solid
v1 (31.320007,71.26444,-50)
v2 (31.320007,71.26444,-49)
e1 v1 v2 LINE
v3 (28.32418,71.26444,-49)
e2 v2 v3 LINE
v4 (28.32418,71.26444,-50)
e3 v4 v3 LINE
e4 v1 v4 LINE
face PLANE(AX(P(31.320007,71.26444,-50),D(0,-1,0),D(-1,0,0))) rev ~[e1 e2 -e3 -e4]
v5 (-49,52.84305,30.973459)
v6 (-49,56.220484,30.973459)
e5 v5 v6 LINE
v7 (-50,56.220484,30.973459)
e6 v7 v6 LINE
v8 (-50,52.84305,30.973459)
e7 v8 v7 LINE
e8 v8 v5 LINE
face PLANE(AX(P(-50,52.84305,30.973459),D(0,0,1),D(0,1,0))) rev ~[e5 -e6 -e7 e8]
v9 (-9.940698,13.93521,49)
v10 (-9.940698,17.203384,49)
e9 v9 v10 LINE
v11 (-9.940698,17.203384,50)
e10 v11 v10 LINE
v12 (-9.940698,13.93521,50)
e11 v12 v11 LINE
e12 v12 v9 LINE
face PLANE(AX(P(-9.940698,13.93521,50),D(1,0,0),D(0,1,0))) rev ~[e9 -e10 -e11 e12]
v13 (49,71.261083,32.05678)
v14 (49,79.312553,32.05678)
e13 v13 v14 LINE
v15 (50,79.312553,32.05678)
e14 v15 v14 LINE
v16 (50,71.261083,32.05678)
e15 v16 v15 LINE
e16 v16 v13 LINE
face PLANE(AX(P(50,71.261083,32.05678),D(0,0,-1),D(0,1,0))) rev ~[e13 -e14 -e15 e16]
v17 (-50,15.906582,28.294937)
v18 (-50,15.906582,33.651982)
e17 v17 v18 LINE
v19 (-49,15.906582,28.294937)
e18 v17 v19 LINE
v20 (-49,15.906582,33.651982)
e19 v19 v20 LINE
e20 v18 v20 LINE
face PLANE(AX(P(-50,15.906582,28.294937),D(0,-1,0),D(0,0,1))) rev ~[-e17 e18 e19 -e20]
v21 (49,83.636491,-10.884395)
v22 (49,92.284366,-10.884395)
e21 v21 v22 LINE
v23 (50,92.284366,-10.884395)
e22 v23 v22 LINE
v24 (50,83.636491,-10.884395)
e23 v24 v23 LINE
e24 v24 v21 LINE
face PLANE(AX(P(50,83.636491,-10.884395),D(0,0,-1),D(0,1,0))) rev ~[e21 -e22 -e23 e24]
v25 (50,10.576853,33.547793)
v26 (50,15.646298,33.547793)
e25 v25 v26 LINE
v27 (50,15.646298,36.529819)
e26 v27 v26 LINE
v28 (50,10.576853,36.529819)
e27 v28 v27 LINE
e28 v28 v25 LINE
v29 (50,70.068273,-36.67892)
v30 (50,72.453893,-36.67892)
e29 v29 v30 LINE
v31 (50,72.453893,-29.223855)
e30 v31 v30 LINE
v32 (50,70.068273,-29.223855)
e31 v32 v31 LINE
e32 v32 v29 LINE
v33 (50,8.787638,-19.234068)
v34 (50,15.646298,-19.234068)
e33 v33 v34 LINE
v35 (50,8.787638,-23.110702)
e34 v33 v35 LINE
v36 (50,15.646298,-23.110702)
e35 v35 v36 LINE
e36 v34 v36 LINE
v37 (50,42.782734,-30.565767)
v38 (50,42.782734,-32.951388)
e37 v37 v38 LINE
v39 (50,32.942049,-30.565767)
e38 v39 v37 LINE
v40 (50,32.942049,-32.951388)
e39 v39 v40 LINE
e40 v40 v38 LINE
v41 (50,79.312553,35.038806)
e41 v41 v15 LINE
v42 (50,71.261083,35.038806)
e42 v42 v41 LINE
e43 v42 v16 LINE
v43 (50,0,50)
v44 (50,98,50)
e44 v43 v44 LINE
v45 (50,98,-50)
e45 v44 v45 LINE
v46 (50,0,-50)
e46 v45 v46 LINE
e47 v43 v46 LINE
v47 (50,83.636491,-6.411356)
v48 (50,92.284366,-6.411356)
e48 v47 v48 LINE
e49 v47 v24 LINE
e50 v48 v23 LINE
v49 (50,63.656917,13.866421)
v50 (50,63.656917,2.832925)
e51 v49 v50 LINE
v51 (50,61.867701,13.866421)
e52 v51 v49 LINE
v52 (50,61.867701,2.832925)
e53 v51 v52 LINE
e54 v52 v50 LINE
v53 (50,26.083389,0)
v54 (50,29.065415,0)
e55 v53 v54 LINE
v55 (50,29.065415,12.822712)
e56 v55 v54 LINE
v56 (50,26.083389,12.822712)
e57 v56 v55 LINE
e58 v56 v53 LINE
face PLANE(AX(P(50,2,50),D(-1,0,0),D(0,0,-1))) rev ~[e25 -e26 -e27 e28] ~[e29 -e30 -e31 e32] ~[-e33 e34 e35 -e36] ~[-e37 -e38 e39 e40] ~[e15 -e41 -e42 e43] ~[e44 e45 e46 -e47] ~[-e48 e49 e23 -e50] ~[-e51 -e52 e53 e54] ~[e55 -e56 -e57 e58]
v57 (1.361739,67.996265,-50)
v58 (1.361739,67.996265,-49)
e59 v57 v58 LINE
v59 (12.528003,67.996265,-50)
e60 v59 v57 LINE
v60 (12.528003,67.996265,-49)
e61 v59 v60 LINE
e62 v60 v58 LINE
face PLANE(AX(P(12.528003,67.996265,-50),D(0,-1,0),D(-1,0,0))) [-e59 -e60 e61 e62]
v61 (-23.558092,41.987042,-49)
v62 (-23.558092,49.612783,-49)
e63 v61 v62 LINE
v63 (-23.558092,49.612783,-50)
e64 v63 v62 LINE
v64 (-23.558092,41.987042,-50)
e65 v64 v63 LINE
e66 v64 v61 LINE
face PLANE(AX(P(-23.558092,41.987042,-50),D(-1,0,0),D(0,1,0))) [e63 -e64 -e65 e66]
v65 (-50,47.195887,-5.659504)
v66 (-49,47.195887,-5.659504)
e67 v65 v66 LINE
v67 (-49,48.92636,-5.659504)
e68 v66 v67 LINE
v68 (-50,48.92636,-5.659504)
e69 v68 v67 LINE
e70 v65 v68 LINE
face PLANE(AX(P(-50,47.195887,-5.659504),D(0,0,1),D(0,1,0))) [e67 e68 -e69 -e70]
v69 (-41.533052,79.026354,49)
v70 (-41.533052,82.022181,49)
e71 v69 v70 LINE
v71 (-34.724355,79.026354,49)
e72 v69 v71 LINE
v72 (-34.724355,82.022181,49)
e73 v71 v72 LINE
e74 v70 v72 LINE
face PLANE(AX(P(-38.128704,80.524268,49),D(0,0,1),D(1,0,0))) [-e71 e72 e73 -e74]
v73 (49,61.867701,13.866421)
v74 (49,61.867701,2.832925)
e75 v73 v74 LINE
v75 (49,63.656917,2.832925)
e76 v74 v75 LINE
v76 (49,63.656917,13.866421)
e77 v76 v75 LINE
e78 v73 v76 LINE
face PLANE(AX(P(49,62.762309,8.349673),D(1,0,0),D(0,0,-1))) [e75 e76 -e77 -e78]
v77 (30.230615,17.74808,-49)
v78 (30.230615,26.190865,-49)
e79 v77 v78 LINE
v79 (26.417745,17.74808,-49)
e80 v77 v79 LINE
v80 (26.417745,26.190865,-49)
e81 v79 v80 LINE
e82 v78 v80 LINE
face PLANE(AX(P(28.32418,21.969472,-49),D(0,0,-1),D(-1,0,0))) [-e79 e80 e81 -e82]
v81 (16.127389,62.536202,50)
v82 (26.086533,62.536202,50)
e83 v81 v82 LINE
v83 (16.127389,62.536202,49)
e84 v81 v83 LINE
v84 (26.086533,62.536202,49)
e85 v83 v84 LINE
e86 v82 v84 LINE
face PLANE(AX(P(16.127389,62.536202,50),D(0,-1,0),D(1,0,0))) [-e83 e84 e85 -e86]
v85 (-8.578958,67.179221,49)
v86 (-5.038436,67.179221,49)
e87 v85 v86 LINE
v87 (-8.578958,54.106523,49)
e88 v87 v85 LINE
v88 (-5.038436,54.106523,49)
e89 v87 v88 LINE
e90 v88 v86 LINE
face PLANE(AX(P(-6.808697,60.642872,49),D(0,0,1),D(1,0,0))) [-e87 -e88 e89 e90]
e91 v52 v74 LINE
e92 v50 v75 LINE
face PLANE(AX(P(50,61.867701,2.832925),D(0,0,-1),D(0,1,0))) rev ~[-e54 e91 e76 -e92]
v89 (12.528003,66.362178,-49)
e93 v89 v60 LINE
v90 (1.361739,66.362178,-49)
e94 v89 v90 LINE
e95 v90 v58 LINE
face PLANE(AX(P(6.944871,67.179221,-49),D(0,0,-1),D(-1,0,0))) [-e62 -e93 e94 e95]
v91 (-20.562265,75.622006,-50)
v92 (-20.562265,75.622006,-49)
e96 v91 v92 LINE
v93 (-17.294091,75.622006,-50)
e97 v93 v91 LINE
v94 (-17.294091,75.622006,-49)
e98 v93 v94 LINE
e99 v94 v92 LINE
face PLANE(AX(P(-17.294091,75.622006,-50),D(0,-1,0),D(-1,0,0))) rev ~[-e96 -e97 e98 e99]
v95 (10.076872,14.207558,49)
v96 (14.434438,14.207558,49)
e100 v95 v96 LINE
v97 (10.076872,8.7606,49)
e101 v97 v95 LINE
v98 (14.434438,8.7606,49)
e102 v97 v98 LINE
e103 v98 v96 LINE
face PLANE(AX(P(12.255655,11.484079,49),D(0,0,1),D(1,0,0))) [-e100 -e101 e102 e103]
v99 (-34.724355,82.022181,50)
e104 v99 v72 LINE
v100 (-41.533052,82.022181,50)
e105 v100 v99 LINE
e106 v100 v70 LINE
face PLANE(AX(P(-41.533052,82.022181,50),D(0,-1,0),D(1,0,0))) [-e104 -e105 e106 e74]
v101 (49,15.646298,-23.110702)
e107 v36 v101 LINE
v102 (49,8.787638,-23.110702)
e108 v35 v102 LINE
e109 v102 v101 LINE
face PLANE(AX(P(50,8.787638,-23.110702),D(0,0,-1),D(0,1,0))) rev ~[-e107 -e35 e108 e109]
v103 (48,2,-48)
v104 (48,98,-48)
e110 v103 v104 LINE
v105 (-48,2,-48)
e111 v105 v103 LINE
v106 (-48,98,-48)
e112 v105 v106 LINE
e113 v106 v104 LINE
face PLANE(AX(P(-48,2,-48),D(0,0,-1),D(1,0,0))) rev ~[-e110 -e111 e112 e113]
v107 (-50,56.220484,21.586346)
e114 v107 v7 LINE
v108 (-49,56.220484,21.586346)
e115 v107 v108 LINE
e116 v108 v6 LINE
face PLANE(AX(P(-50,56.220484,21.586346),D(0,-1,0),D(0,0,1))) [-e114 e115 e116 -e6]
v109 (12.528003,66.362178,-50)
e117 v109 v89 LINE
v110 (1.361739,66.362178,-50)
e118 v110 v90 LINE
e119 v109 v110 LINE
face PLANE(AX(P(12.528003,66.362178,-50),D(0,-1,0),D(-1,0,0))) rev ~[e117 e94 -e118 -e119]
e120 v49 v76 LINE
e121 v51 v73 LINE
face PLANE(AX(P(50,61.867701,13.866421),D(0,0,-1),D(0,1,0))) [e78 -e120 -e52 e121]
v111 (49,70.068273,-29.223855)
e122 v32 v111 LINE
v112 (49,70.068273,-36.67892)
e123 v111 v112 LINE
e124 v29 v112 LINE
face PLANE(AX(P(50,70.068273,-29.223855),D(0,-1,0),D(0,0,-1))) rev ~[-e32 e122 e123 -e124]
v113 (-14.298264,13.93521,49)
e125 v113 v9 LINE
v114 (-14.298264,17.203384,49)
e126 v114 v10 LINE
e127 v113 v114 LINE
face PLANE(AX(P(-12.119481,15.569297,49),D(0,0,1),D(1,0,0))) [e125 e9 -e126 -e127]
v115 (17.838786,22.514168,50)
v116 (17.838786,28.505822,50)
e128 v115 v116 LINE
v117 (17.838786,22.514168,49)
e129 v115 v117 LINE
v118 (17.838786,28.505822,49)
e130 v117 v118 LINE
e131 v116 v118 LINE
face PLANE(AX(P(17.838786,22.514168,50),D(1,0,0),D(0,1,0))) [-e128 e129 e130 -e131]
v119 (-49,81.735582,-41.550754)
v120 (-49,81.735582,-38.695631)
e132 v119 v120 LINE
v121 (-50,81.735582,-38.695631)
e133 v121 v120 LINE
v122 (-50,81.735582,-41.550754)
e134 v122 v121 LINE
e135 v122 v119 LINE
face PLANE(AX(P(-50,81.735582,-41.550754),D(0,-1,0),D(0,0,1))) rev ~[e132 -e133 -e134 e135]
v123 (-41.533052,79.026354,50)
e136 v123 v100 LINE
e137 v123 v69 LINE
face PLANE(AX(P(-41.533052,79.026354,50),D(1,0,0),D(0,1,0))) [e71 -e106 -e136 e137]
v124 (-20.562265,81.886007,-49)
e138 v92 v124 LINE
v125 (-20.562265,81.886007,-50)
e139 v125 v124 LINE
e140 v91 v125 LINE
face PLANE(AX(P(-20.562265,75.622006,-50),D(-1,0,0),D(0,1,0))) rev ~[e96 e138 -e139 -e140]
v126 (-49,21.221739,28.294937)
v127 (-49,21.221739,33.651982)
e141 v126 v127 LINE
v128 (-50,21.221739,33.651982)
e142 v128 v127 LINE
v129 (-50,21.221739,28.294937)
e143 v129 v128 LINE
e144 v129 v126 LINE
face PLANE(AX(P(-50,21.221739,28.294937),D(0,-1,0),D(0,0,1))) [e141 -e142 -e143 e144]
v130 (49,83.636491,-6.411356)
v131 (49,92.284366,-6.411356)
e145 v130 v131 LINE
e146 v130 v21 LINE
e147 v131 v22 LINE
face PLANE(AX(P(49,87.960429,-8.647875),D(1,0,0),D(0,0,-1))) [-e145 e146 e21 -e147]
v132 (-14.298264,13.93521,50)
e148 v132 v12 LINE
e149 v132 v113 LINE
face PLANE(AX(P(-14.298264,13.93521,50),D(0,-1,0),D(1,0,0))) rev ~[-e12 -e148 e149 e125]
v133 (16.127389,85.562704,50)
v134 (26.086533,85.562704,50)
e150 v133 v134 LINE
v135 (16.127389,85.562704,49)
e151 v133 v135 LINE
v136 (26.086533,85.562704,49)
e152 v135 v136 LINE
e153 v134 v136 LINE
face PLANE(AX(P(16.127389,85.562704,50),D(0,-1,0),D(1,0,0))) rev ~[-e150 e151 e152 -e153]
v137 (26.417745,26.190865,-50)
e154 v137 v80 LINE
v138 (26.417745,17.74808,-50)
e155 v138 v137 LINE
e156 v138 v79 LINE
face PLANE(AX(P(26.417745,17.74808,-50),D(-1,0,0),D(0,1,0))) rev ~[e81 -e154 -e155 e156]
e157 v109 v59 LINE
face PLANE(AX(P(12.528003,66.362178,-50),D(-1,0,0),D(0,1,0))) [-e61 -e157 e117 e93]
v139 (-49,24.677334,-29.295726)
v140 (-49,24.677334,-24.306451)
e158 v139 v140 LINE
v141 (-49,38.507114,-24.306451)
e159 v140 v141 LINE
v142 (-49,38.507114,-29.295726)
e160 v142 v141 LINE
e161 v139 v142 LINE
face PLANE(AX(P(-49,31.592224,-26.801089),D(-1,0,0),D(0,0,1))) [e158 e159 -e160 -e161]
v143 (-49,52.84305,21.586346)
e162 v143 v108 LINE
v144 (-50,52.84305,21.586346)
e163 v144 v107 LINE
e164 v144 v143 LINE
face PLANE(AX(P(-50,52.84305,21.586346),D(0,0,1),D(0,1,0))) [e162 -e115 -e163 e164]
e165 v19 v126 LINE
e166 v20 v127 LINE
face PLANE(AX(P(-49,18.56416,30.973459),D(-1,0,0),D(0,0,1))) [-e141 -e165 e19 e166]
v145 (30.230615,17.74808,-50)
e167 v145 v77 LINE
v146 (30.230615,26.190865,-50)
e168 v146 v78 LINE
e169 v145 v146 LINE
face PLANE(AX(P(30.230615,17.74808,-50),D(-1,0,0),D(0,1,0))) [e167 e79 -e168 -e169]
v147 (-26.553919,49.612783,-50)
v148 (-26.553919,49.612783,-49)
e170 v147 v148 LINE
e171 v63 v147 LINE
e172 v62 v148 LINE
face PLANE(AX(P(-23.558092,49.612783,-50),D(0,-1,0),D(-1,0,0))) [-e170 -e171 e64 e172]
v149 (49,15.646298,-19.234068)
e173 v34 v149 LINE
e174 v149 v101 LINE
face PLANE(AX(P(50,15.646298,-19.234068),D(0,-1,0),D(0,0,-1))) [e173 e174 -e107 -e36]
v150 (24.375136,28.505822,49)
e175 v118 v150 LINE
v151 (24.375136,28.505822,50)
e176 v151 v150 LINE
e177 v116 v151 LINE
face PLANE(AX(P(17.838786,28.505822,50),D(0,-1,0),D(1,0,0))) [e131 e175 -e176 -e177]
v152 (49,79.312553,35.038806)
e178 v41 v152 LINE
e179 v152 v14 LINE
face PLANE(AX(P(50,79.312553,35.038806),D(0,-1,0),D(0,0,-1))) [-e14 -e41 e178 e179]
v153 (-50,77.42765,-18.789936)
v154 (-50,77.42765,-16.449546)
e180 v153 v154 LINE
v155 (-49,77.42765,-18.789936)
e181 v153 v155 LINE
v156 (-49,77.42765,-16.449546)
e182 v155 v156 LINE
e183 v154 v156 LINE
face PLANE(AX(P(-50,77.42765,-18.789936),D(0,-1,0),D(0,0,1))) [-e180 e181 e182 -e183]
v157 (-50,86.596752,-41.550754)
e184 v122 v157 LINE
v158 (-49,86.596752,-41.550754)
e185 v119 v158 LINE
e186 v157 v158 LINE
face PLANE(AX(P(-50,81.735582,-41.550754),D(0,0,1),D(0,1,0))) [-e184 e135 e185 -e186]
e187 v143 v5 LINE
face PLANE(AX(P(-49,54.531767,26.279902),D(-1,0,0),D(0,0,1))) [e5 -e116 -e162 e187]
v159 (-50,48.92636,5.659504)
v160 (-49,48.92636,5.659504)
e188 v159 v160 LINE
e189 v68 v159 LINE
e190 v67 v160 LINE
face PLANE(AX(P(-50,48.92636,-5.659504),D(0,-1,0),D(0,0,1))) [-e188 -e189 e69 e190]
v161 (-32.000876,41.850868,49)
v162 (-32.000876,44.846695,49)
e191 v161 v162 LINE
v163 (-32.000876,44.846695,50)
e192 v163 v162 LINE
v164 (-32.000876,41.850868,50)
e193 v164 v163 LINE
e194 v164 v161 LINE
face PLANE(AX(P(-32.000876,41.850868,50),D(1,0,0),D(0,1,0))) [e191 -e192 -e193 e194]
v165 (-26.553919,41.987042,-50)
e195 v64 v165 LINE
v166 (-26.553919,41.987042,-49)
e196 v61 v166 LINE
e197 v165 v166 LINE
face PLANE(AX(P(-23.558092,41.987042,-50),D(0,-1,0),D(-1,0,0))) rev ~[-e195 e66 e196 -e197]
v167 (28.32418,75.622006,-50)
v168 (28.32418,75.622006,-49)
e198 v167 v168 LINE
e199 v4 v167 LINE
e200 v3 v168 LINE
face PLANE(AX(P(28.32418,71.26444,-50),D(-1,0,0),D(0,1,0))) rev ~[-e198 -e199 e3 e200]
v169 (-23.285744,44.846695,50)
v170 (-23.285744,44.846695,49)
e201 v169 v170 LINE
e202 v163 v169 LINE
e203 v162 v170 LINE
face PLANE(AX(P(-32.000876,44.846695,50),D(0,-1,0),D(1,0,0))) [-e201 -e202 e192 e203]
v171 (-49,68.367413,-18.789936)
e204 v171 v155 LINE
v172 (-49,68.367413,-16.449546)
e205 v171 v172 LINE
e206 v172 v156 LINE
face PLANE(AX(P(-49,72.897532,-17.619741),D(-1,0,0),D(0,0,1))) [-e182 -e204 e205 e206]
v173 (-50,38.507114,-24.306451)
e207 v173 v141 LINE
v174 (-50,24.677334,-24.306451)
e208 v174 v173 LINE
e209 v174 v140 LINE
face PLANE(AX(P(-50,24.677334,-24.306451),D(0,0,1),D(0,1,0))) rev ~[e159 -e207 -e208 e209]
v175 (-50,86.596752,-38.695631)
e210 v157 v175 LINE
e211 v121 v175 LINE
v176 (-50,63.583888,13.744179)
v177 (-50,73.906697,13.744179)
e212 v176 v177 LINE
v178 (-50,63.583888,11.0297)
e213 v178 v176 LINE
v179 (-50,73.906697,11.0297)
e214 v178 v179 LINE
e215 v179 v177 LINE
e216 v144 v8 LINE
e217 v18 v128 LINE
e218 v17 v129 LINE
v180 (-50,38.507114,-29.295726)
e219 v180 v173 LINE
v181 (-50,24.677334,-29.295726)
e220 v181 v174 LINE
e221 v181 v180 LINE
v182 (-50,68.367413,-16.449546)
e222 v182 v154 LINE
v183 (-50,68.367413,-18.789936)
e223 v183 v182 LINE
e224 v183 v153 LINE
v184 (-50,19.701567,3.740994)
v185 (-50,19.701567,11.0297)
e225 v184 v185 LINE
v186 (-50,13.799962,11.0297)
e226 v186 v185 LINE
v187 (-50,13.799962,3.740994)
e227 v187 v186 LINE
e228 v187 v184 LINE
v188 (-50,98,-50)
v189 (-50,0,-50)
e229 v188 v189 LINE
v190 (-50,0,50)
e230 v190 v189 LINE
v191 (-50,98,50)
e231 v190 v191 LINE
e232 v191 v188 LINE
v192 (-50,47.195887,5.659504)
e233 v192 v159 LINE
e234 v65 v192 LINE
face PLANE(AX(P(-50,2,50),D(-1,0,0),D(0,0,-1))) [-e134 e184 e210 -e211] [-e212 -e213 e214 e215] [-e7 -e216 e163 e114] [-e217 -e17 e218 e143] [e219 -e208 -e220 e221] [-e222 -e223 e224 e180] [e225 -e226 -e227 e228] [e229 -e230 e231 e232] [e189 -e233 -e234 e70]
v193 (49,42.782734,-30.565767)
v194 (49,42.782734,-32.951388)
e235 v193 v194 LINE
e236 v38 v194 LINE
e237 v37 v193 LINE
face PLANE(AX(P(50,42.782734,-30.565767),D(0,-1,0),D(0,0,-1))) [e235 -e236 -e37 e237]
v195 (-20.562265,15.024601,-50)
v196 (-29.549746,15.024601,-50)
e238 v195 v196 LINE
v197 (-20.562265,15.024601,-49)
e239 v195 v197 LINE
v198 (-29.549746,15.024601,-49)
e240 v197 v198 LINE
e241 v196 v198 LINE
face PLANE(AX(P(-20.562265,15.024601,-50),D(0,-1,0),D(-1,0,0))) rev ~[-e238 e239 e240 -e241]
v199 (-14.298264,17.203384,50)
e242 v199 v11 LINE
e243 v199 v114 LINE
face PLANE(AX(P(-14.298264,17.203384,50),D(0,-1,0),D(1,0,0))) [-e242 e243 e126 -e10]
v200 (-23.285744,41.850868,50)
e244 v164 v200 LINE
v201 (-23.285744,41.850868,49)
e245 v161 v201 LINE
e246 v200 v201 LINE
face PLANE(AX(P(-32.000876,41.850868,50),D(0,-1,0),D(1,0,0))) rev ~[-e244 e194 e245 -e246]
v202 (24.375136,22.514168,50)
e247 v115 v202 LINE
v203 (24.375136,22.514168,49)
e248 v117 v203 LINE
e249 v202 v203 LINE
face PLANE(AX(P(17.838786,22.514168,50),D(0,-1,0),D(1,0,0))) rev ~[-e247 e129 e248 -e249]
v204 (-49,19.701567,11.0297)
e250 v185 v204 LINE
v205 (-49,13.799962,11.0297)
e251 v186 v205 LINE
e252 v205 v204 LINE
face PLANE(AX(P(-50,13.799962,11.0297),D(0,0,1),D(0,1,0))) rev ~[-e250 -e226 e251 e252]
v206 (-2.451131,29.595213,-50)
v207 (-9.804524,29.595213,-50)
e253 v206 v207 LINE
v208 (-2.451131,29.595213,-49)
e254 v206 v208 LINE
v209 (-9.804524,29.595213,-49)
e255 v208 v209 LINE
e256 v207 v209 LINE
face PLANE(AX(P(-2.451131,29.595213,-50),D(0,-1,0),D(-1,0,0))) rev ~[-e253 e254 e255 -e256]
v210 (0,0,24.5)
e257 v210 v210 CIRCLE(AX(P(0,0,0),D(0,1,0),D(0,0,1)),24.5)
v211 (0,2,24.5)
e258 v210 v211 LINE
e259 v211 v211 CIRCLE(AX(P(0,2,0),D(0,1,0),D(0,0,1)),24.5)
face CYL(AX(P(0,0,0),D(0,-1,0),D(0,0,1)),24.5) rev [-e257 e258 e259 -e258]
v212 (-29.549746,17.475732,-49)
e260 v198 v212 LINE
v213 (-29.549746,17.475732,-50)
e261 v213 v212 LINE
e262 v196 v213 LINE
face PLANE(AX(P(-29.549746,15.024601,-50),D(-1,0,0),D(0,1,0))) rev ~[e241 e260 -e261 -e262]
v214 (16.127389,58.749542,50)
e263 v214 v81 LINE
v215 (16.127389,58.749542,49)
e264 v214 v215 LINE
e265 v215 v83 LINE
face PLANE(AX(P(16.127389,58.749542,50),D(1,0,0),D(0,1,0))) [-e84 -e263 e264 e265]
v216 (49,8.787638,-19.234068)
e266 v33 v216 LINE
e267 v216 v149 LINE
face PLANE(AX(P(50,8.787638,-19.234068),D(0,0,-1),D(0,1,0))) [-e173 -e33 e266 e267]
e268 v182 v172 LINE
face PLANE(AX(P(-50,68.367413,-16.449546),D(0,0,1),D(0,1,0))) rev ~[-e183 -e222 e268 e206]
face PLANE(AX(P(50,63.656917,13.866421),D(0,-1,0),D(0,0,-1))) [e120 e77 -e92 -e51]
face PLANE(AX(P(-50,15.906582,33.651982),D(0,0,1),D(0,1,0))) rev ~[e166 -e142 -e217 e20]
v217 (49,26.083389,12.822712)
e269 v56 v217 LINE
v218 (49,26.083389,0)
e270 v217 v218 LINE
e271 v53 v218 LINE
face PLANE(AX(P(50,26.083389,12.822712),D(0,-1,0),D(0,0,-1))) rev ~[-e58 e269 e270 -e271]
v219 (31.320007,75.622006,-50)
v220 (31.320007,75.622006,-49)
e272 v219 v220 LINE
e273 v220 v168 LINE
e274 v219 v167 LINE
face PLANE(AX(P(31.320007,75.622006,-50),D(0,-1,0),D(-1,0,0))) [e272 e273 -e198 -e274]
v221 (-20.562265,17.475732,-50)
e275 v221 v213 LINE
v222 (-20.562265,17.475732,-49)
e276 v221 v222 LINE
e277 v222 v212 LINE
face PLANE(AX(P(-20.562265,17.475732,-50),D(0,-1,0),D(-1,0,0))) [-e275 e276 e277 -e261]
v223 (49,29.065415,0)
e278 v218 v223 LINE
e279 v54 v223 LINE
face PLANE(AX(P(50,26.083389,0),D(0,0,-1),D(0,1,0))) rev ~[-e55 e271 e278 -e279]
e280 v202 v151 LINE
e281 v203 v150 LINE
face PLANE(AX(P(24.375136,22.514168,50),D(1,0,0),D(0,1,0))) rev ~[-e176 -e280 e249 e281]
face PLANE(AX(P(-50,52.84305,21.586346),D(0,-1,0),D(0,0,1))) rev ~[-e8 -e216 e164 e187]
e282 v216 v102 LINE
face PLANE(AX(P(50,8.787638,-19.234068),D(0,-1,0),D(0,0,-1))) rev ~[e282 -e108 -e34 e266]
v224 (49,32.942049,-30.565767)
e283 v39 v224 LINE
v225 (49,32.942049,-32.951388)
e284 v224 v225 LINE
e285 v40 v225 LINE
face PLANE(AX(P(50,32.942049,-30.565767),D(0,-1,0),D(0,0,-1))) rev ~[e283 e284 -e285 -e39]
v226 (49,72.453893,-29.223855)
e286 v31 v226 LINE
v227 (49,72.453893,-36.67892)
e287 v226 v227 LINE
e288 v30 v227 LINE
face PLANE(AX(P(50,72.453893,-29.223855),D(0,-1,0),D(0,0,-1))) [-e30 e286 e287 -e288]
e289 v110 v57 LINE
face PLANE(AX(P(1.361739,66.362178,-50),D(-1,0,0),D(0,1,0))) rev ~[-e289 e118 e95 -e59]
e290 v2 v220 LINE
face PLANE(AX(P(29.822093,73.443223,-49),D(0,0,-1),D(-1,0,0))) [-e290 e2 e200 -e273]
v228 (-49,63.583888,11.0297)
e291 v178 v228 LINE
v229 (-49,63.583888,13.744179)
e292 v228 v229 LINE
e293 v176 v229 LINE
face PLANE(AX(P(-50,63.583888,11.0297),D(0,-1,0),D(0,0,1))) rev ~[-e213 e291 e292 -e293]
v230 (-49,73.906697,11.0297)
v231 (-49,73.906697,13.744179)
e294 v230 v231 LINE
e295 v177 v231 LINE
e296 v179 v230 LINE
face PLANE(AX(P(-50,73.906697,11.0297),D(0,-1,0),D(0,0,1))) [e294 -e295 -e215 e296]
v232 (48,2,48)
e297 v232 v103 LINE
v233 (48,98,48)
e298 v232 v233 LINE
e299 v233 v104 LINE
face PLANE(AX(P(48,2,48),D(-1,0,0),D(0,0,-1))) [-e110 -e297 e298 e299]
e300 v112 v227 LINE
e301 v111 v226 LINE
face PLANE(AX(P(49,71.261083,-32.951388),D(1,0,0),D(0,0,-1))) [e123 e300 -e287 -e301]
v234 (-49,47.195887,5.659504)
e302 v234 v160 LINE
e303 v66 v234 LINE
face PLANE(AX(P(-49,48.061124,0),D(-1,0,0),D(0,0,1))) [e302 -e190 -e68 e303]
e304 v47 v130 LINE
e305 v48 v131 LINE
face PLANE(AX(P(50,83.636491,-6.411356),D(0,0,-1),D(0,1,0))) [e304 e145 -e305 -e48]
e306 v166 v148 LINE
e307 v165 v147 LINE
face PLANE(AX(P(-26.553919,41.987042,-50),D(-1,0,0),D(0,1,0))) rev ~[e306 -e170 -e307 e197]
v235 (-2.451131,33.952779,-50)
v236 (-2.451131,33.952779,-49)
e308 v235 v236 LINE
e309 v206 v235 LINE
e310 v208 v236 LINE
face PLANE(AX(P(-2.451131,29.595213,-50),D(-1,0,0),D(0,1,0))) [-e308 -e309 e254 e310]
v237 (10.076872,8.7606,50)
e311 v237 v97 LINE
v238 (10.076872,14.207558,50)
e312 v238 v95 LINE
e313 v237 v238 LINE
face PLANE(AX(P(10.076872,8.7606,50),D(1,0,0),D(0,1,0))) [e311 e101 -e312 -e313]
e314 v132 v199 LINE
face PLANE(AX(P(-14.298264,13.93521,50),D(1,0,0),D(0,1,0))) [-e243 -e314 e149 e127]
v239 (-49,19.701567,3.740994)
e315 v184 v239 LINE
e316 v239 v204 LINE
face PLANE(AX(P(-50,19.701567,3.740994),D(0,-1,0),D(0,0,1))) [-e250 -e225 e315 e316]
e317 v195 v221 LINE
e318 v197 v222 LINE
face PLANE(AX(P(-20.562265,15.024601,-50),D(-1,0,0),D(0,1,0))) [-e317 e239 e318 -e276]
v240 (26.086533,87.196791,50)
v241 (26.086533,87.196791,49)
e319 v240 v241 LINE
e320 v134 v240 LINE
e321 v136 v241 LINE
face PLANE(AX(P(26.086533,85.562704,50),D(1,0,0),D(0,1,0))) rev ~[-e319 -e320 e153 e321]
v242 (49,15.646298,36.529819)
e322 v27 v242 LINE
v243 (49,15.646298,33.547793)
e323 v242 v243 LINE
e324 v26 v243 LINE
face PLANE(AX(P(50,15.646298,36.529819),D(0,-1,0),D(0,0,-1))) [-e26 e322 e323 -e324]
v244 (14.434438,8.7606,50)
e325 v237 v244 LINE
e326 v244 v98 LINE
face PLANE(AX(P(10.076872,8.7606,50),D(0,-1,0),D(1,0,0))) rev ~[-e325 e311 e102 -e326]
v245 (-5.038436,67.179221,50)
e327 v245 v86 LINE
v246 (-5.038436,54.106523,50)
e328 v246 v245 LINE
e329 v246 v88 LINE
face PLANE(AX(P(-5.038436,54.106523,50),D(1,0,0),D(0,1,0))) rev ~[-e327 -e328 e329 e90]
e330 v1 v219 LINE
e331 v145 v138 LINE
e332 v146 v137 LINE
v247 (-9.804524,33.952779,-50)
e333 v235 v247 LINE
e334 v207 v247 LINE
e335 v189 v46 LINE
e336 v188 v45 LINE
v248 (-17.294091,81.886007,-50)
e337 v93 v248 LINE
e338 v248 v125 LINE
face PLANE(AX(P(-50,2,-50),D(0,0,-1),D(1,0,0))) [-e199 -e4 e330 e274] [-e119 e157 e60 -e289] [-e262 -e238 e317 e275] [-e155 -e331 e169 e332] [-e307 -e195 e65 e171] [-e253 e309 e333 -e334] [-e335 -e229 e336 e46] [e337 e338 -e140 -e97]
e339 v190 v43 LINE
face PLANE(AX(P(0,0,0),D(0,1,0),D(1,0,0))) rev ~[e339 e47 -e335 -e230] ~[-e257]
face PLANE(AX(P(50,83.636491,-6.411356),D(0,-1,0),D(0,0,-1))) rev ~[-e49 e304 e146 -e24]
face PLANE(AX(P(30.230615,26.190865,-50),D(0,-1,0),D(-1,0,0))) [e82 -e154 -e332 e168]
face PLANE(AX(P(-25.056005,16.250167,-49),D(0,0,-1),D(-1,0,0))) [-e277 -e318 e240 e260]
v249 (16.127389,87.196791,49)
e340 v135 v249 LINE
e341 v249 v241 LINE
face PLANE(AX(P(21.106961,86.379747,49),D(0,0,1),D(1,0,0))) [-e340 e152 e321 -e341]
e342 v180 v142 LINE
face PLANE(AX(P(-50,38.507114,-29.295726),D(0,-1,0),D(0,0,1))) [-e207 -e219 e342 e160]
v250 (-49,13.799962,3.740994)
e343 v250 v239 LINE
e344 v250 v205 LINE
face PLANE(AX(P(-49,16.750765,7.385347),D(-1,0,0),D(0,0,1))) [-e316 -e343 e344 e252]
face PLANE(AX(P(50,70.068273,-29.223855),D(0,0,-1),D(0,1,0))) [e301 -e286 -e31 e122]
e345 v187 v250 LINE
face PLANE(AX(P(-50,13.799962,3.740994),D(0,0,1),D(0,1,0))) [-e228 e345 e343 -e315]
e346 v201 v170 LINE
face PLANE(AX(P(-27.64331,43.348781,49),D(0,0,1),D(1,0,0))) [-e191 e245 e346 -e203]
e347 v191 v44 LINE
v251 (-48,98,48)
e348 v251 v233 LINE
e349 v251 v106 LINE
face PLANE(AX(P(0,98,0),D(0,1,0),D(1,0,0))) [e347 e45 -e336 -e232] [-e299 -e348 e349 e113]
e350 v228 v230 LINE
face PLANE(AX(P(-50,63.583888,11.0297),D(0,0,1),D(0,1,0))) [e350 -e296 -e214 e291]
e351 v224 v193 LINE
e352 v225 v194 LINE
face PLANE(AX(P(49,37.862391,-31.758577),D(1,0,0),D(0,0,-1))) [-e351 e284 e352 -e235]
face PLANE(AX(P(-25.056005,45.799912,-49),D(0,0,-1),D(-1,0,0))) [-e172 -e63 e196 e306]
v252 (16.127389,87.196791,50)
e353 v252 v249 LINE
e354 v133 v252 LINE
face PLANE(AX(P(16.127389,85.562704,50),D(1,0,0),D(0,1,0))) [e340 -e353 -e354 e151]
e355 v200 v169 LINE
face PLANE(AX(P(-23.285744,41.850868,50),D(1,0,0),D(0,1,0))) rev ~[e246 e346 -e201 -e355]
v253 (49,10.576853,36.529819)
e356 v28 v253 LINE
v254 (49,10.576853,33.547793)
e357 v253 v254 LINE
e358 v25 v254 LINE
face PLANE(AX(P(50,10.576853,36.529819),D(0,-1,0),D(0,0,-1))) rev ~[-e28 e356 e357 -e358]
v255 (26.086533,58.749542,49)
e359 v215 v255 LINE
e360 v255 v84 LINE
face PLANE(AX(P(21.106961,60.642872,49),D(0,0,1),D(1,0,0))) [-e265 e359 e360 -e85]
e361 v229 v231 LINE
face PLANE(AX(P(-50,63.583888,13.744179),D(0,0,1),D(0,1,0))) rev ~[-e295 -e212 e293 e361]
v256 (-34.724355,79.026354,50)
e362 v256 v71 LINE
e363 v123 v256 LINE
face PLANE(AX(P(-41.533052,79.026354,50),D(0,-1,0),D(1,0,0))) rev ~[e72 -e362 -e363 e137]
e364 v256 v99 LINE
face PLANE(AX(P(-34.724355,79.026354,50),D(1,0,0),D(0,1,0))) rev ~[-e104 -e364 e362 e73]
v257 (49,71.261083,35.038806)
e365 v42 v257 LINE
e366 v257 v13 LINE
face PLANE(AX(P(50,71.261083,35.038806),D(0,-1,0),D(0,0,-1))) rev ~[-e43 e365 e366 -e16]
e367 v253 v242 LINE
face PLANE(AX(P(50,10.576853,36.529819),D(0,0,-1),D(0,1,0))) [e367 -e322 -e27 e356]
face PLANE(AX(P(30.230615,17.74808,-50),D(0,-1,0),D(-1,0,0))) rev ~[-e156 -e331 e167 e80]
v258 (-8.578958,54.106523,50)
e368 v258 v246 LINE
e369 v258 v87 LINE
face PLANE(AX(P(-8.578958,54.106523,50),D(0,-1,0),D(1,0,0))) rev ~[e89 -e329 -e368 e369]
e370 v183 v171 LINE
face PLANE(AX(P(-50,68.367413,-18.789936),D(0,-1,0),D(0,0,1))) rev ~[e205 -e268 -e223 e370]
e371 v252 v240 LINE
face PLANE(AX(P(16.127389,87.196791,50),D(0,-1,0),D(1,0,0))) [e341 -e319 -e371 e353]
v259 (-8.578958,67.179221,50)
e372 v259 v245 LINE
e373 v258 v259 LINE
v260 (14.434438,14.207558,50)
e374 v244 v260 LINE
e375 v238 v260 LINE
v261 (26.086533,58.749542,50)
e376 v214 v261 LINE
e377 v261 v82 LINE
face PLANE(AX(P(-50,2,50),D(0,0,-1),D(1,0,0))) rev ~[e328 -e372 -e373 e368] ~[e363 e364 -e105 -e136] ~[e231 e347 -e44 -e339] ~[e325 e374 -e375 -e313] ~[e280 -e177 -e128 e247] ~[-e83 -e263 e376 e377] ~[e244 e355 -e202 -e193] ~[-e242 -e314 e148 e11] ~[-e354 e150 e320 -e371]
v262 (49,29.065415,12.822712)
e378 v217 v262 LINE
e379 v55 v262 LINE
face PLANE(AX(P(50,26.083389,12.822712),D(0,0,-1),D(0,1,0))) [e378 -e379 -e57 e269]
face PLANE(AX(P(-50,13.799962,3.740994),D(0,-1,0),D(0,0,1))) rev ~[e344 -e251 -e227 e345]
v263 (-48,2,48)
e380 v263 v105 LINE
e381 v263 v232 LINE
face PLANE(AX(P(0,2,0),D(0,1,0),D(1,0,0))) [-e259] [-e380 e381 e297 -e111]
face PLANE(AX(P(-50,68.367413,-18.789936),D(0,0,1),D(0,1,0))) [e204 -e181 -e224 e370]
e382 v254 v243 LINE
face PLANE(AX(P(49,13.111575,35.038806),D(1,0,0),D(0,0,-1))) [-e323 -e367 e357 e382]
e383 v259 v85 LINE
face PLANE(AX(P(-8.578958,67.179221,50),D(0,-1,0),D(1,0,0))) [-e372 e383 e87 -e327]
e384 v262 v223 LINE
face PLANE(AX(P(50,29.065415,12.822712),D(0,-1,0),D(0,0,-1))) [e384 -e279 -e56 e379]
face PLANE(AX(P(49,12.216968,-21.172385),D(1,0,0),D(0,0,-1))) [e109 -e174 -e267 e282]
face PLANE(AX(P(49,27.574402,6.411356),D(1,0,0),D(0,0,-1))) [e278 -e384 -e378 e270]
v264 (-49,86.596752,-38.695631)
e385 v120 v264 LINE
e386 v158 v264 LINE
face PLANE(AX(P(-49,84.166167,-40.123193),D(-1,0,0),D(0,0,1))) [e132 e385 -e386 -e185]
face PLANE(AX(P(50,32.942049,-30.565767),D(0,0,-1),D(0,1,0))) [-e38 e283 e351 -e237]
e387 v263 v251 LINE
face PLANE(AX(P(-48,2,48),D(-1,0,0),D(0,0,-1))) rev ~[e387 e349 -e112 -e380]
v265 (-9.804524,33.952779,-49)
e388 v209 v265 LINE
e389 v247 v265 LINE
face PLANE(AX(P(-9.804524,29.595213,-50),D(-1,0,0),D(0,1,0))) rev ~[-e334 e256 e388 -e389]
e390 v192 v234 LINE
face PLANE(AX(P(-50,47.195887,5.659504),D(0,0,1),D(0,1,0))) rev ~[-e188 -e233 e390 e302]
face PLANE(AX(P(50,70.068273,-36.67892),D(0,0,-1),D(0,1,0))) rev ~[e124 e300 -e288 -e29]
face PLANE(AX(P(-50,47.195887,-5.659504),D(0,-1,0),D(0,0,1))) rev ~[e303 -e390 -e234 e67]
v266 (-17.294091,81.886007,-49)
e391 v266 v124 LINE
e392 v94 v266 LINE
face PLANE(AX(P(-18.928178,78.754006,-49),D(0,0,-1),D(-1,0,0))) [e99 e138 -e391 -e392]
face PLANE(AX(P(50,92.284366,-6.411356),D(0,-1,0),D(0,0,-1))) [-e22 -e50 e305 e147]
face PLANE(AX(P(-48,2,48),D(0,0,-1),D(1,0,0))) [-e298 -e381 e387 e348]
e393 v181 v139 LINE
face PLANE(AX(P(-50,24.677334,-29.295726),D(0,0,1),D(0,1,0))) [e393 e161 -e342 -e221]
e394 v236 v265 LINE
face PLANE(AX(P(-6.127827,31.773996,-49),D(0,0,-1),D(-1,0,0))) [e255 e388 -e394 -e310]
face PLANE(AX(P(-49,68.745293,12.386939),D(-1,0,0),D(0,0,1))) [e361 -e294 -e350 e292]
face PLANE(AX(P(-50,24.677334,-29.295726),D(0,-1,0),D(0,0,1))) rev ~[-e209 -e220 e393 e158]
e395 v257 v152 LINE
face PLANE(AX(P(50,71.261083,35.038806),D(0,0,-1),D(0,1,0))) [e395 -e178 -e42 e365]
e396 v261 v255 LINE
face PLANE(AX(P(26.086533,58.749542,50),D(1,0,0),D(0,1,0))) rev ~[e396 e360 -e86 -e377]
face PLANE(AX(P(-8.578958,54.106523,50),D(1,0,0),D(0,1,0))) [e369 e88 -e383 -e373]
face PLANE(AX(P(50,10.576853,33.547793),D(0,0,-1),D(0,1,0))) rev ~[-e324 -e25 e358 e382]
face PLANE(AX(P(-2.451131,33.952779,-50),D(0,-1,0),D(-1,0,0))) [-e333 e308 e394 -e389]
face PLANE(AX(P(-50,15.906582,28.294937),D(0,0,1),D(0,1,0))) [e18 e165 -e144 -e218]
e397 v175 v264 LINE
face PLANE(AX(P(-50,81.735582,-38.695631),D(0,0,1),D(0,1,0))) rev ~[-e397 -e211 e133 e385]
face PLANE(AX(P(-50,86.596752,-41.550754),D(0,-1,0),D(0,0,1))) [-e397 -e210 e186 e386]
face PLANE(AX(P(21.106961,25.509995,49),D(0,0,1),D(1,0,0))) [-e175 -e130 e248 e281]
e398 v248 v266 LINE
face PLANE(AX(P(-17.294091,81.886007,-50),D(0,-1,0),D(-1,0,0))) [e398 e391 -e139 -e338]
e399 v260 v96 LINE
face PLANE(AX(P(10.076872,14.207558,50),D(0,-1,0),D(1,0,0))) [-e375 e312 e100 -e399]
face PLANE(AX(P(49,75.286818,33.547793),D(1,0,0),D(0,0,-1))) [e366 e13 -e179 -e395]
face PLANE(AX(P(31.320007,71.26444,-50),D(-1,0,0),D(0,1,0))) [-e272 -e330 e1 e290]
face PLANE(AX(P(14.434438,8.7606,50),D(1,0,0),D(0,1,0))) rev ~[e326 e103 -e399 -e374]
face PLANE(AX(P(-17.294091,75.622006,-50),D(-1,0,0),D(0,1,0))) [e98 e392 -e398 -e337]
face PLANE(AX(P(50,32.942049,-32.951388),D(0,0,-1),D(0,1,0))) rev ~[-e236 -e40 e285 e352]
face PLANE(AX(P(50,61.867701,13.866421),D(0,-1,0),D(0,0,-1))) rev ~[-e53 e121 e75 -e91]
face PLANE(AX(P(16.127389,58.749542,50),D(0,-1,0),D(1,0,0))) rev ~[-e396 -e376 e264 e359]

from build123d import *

# Parameters (mm, degrees)
IZIM1_W                     = 100
IZIM1_H                     = 100
IZIM1_R                     = 24.5
Y_KSEKLIK_EKSTR_ZYON1_DEPTH = 2
IZIM2_W                     = 100
IZIM2_H                     = 100
IZIM2_W_2                   = 96
IZIM2_H_2                   = 96
Y_KSEKLIK_EKSTR_ZYON2_DEPTH = 96
IZIM3_W                     = 6.808697121
IZIM3_H                     = 2.995826734
IZIM3_W_2                   = 3.540522504
IZIM3_H_2                   = 13.072698474
IZIM3_W_3                   = 8.715132316
IZIM3_W_4                   = 9.959144329
IZIM3_H_3                   = 3.786659795
IZIM3_W_5                   = 6.536349237
IZIM3_H_4                   = 5.991653467
IZIM3_W_6                   = 4.357566158
IZIM3_H_5                   = 3.268174619
IZIM3_H_6                   = 5.446957697
IZIM3_H_7                   = 1.63408731
KES_EKSTR_ZYON1_DEPTH       = 1
IZIM4_W                     = 2.855123206
IZIM4_H                     = 4.861170012
IZIM4_W_2                   = 11.319008014
IZIM4_H_2                   = 1.730473094
IZIM4_W_3                   = 2.714479197
IZIM4_H_3                   = 10.322809225
IZIM4_W_4                   = 9.387113738
IZIM4_H_4                   = 3.377434488
IZIM4_W_5                   = 4.989274294
IZIM4_H_5                   = 13.829779239
IZIM4_W_6                   = 7.288706005
IZIM4_H_6                   = 5.901605045
IZIM4_W_7                   = 5.357045211
IZIM4_H_7                   = 5.315156672
IZIM4_W_8                   = 2.340389822
IZIM4_H_8                   = 9.060236987
KES_EKSTR_ZYON2_DEPTH       = 1
IZIM5_W                     = 2.995826734
IZIM5_H                     = 4.357566158
IZIM5_W_2                   = 11.16626328
IZIM5_H_2                   = 1.634087309
IZIM5_W_3                   = 2.995826733
IZIM5_H_3                   = 7.625740777
IZIM5_W_4                   = 7.353392891
IZIM5_W_5                   = 3.812870388
IZIM5_H_4                   = 8.442784431
IZIM5_W_6                   = 8.987480201
IZIM5_H_5                   = 2.451130964
IZIM5_W_7                   = 3.268174618
IZIM5_H_6                   = 6.264001352
KES_EKSTR_ZYON3_DEPTH       = 1
IZIM6_W                     = 2.982026027
IZIM6_H                     = 8.051470273
IZIM6_W_2                   = 11.033496299
IZIM6_H_2                   = 1.789215616
IZIM6_W_3                   = 2.385620822
IZIM6_H_3                   = 9.840685888
IZIM6_W_4                   = 7.455065067
IZIM6_H_4                   = 2.385620821
IZIM6_W_5                   = 12.822711915
IZIM6_H_5                   = 2.982026027
IZIM6_H_6                   = 5.069444246
IZIM6_W_6                   = 3.876633835
IZIM6_H_7                   = 6.858659862
IZIM6_W_7                   = 4.473039041
IZIM6_H_8                   = 8.647875478
KES_EKSTR_ZYON4_DEPTH       = 1


with BuildPart() as part:
    # Çizim1 → Yükseklik-Ekstrüzyon1 (new body)
    with BuildSketch(Plane(origin=(0, 0, 0), x_dir=(1, 0, 0), z_dir=(0, 1, 0))):
        Rectangle(IZIM1_W, IZIM1_H)
        with Locations(Location((0, 0, 0), (0, 0, 270))):
            Circle(IZIM1_R, mode=Mode.SUBTRACT)
    extrude(amount=Y_KSEKLIK_EKSTR_ZYON1_DEPTH)

    # Çizim2 → Yükseklik-Ekstrüzyon2 (add)
    with BuildSketch(Plane(origin=(0, 2, 0), x_dir=(1, 0, 0), z_dir=(0, 1, 0))):
        Rectangle(IZIM2_W, IZIM2_H)
        Rectangle(IZIM2_W_2, IZIM2_H_2, mode=Mode.SUBTRACT)
    extrude(amount=Y_KSEKLIK_EKSTR_ZYON2_DEPTH)

    # Çizim3 → Kes-Ekstrüzyon1 (cut)
    with BuildSketch(Plane.XY.offset(50)):
        with Locations((-38.128703883, 80.524267674)):
            Rectangle(IZIM3_W, IZIM3_H)
        with Locations((-6.808697122, 60.642872078)):
            Rectangle(IZIM3_W_2, IZIM3_H_2)
        with Locations((-27.643310315, 43.348781389)):
            Rectangle(IZIM3_W_3, IZIM3_H)
        with Locations((21.106961078, 60.642872079)):
            Rectangle(IZIM3_W_4, IZIM3_H_3)
        with Locations((21.106961078, 25.50999493)):
            Rectangle(IZIM3_W_5, IZIM3_H_4)
        with Locations((-12.119480877, 15.569297132)):
            Rectangle(IZIM3_W_6, IZIM3_H_5)
        with Locations((12.255654819, 11.484078859)):
            Rectangle(IZIM3_W_6, IZIM3_H_6)
        with Locations((21.106961078, 86.379747199)):
            Rectangle(IZIM3_W_4, IZIM3_H_7)
    extrude(amount=-KES_EKSTR_ZYON1_DEPTH, mode=Mode.SUBTRACT)

    # Çizim4 → Kes-Ekstrüzyon2 (cut)
    with BuildSketch(Plane.ZY.offset(50)):
        with Locations((-40.12319253, 84.166167132)):
            Rectangle(IZIM4_W, IZIM4_H)
        with Locations((0, 48.061123669)):
            Rectangle(IZIM4_W_2, IZIM4_H_2)
        with Locations((12.386939179, 68.745292742)):
            Rectangle(IZIM4_W_3, IZIM4_H_3)
        with Locations((26.279902445, 54.531767203)):
            Rectangle(IZIM4_W_4, IZIM4_H_4)
        with Locations((-26.801088585, 31.592223885)):
            Rectangle(IZIM4_W_5, IZIM4_H_5)
        with Locations((7.385346578, 16.750764677)):
            Rectangle(IZIM4_W_6, IZIM4_H_6)
        with Locations((30.973459314, 18.564160483)):
            Rectangle(IZIM4_W_7, IZIM4_H_7)
        with Locations((-17.619740697, 72.897531843)):
            Rectangle(IZIM4_W_8, IZIM4_H_8)
    extrude(amount=-KES_EKSTR_ZYON2_DEPTH, mode=Mode.SUBTRACT)

    # Çizim5 → Kes-Ekstrüzyon3 (cut)
    with BuildSketch(Plane(origin=(0, 0, -50), x_dir=(-1, 0, 0), z_dir=(0, 0, -1))):
        with Locations((-29.822093394, 73.443222668)):
            Rectangle(IZIM5_W, IZIM5_H)
        with Locations((-6.944871064, 67.179221316)):
            Rectangle(IZIM5_W_2, IZIM5_H_2)
        with Locations((25.056005409, 45.799912353)):
            Rectangle(IZIM5_W_3, IZIM5_H_3)
        with Locations((6.12782741, 31.773996282)):
            Rectangle(IZIM5_W_4, IZIM5_H)
        with Locations((-28.324180027, 21.969472427)):
            Rectangle(IZIM5_W_5, IZIM5_H_4)
        with Locations((25.056005408, 16.250166844)):
            Rectangle(IZIM5_W_6, IZIM5_H_5)
        with Locations((18.928177999, 78.754006423)):
            Rectangle(IZIM5_W_7, IZIM5_H_6)
    extrude(amount=-KES_EKSTR_ZYON3_DEPTH, mode=Mode.SUBTRACT)

    # Çizim6 → Kes-Ekstrüzyon4 (cut)
    with BuildSketch(Plane(origin=(50, 0, 0), x_dir=(0, 0, -1), z_dir=(1, 0, 0))):
        with Locations((-33.547792801, 75.286818133)):
            Rectangle(IZIM6_W, IZIM6_H)
        with Locations((-8.349672875, 62.76230882)):
            Rectangle(IZIM6_W_2, IZIM6_H_2)
        with Locations((31.758577185, 37.862391497)):
            Rectangle(IZIM6_W_3, IZIM6_H_3)
        with Locations((32.951387596, 71.261082997)):
            Rectangle(IZIM6_W_4, IZIM6_H_4)
        with Locations((-6.411355958, 27.574401705)):
            Rectangle(IZIM6_W_5, IZIM6_H_5)
        with Locations((-35.038805815, 13.111575475)):
            Rectangle(IZIM6_W, IZIM6_H_6)
        with Locations((21.17238479, 12.216967667)):
            Rectangle(IZIM6_W_6, IZIM6_H_7)
        with Locations((8.647875478, 87.960428746)):
            Rectangle(IZIM6_W_7, IZIM6_H_8)
    extrude(amount=-KES_EKSTR_ZYON4_DEPTH, mode=Mode.SUBTRACT)


solid = part.part
